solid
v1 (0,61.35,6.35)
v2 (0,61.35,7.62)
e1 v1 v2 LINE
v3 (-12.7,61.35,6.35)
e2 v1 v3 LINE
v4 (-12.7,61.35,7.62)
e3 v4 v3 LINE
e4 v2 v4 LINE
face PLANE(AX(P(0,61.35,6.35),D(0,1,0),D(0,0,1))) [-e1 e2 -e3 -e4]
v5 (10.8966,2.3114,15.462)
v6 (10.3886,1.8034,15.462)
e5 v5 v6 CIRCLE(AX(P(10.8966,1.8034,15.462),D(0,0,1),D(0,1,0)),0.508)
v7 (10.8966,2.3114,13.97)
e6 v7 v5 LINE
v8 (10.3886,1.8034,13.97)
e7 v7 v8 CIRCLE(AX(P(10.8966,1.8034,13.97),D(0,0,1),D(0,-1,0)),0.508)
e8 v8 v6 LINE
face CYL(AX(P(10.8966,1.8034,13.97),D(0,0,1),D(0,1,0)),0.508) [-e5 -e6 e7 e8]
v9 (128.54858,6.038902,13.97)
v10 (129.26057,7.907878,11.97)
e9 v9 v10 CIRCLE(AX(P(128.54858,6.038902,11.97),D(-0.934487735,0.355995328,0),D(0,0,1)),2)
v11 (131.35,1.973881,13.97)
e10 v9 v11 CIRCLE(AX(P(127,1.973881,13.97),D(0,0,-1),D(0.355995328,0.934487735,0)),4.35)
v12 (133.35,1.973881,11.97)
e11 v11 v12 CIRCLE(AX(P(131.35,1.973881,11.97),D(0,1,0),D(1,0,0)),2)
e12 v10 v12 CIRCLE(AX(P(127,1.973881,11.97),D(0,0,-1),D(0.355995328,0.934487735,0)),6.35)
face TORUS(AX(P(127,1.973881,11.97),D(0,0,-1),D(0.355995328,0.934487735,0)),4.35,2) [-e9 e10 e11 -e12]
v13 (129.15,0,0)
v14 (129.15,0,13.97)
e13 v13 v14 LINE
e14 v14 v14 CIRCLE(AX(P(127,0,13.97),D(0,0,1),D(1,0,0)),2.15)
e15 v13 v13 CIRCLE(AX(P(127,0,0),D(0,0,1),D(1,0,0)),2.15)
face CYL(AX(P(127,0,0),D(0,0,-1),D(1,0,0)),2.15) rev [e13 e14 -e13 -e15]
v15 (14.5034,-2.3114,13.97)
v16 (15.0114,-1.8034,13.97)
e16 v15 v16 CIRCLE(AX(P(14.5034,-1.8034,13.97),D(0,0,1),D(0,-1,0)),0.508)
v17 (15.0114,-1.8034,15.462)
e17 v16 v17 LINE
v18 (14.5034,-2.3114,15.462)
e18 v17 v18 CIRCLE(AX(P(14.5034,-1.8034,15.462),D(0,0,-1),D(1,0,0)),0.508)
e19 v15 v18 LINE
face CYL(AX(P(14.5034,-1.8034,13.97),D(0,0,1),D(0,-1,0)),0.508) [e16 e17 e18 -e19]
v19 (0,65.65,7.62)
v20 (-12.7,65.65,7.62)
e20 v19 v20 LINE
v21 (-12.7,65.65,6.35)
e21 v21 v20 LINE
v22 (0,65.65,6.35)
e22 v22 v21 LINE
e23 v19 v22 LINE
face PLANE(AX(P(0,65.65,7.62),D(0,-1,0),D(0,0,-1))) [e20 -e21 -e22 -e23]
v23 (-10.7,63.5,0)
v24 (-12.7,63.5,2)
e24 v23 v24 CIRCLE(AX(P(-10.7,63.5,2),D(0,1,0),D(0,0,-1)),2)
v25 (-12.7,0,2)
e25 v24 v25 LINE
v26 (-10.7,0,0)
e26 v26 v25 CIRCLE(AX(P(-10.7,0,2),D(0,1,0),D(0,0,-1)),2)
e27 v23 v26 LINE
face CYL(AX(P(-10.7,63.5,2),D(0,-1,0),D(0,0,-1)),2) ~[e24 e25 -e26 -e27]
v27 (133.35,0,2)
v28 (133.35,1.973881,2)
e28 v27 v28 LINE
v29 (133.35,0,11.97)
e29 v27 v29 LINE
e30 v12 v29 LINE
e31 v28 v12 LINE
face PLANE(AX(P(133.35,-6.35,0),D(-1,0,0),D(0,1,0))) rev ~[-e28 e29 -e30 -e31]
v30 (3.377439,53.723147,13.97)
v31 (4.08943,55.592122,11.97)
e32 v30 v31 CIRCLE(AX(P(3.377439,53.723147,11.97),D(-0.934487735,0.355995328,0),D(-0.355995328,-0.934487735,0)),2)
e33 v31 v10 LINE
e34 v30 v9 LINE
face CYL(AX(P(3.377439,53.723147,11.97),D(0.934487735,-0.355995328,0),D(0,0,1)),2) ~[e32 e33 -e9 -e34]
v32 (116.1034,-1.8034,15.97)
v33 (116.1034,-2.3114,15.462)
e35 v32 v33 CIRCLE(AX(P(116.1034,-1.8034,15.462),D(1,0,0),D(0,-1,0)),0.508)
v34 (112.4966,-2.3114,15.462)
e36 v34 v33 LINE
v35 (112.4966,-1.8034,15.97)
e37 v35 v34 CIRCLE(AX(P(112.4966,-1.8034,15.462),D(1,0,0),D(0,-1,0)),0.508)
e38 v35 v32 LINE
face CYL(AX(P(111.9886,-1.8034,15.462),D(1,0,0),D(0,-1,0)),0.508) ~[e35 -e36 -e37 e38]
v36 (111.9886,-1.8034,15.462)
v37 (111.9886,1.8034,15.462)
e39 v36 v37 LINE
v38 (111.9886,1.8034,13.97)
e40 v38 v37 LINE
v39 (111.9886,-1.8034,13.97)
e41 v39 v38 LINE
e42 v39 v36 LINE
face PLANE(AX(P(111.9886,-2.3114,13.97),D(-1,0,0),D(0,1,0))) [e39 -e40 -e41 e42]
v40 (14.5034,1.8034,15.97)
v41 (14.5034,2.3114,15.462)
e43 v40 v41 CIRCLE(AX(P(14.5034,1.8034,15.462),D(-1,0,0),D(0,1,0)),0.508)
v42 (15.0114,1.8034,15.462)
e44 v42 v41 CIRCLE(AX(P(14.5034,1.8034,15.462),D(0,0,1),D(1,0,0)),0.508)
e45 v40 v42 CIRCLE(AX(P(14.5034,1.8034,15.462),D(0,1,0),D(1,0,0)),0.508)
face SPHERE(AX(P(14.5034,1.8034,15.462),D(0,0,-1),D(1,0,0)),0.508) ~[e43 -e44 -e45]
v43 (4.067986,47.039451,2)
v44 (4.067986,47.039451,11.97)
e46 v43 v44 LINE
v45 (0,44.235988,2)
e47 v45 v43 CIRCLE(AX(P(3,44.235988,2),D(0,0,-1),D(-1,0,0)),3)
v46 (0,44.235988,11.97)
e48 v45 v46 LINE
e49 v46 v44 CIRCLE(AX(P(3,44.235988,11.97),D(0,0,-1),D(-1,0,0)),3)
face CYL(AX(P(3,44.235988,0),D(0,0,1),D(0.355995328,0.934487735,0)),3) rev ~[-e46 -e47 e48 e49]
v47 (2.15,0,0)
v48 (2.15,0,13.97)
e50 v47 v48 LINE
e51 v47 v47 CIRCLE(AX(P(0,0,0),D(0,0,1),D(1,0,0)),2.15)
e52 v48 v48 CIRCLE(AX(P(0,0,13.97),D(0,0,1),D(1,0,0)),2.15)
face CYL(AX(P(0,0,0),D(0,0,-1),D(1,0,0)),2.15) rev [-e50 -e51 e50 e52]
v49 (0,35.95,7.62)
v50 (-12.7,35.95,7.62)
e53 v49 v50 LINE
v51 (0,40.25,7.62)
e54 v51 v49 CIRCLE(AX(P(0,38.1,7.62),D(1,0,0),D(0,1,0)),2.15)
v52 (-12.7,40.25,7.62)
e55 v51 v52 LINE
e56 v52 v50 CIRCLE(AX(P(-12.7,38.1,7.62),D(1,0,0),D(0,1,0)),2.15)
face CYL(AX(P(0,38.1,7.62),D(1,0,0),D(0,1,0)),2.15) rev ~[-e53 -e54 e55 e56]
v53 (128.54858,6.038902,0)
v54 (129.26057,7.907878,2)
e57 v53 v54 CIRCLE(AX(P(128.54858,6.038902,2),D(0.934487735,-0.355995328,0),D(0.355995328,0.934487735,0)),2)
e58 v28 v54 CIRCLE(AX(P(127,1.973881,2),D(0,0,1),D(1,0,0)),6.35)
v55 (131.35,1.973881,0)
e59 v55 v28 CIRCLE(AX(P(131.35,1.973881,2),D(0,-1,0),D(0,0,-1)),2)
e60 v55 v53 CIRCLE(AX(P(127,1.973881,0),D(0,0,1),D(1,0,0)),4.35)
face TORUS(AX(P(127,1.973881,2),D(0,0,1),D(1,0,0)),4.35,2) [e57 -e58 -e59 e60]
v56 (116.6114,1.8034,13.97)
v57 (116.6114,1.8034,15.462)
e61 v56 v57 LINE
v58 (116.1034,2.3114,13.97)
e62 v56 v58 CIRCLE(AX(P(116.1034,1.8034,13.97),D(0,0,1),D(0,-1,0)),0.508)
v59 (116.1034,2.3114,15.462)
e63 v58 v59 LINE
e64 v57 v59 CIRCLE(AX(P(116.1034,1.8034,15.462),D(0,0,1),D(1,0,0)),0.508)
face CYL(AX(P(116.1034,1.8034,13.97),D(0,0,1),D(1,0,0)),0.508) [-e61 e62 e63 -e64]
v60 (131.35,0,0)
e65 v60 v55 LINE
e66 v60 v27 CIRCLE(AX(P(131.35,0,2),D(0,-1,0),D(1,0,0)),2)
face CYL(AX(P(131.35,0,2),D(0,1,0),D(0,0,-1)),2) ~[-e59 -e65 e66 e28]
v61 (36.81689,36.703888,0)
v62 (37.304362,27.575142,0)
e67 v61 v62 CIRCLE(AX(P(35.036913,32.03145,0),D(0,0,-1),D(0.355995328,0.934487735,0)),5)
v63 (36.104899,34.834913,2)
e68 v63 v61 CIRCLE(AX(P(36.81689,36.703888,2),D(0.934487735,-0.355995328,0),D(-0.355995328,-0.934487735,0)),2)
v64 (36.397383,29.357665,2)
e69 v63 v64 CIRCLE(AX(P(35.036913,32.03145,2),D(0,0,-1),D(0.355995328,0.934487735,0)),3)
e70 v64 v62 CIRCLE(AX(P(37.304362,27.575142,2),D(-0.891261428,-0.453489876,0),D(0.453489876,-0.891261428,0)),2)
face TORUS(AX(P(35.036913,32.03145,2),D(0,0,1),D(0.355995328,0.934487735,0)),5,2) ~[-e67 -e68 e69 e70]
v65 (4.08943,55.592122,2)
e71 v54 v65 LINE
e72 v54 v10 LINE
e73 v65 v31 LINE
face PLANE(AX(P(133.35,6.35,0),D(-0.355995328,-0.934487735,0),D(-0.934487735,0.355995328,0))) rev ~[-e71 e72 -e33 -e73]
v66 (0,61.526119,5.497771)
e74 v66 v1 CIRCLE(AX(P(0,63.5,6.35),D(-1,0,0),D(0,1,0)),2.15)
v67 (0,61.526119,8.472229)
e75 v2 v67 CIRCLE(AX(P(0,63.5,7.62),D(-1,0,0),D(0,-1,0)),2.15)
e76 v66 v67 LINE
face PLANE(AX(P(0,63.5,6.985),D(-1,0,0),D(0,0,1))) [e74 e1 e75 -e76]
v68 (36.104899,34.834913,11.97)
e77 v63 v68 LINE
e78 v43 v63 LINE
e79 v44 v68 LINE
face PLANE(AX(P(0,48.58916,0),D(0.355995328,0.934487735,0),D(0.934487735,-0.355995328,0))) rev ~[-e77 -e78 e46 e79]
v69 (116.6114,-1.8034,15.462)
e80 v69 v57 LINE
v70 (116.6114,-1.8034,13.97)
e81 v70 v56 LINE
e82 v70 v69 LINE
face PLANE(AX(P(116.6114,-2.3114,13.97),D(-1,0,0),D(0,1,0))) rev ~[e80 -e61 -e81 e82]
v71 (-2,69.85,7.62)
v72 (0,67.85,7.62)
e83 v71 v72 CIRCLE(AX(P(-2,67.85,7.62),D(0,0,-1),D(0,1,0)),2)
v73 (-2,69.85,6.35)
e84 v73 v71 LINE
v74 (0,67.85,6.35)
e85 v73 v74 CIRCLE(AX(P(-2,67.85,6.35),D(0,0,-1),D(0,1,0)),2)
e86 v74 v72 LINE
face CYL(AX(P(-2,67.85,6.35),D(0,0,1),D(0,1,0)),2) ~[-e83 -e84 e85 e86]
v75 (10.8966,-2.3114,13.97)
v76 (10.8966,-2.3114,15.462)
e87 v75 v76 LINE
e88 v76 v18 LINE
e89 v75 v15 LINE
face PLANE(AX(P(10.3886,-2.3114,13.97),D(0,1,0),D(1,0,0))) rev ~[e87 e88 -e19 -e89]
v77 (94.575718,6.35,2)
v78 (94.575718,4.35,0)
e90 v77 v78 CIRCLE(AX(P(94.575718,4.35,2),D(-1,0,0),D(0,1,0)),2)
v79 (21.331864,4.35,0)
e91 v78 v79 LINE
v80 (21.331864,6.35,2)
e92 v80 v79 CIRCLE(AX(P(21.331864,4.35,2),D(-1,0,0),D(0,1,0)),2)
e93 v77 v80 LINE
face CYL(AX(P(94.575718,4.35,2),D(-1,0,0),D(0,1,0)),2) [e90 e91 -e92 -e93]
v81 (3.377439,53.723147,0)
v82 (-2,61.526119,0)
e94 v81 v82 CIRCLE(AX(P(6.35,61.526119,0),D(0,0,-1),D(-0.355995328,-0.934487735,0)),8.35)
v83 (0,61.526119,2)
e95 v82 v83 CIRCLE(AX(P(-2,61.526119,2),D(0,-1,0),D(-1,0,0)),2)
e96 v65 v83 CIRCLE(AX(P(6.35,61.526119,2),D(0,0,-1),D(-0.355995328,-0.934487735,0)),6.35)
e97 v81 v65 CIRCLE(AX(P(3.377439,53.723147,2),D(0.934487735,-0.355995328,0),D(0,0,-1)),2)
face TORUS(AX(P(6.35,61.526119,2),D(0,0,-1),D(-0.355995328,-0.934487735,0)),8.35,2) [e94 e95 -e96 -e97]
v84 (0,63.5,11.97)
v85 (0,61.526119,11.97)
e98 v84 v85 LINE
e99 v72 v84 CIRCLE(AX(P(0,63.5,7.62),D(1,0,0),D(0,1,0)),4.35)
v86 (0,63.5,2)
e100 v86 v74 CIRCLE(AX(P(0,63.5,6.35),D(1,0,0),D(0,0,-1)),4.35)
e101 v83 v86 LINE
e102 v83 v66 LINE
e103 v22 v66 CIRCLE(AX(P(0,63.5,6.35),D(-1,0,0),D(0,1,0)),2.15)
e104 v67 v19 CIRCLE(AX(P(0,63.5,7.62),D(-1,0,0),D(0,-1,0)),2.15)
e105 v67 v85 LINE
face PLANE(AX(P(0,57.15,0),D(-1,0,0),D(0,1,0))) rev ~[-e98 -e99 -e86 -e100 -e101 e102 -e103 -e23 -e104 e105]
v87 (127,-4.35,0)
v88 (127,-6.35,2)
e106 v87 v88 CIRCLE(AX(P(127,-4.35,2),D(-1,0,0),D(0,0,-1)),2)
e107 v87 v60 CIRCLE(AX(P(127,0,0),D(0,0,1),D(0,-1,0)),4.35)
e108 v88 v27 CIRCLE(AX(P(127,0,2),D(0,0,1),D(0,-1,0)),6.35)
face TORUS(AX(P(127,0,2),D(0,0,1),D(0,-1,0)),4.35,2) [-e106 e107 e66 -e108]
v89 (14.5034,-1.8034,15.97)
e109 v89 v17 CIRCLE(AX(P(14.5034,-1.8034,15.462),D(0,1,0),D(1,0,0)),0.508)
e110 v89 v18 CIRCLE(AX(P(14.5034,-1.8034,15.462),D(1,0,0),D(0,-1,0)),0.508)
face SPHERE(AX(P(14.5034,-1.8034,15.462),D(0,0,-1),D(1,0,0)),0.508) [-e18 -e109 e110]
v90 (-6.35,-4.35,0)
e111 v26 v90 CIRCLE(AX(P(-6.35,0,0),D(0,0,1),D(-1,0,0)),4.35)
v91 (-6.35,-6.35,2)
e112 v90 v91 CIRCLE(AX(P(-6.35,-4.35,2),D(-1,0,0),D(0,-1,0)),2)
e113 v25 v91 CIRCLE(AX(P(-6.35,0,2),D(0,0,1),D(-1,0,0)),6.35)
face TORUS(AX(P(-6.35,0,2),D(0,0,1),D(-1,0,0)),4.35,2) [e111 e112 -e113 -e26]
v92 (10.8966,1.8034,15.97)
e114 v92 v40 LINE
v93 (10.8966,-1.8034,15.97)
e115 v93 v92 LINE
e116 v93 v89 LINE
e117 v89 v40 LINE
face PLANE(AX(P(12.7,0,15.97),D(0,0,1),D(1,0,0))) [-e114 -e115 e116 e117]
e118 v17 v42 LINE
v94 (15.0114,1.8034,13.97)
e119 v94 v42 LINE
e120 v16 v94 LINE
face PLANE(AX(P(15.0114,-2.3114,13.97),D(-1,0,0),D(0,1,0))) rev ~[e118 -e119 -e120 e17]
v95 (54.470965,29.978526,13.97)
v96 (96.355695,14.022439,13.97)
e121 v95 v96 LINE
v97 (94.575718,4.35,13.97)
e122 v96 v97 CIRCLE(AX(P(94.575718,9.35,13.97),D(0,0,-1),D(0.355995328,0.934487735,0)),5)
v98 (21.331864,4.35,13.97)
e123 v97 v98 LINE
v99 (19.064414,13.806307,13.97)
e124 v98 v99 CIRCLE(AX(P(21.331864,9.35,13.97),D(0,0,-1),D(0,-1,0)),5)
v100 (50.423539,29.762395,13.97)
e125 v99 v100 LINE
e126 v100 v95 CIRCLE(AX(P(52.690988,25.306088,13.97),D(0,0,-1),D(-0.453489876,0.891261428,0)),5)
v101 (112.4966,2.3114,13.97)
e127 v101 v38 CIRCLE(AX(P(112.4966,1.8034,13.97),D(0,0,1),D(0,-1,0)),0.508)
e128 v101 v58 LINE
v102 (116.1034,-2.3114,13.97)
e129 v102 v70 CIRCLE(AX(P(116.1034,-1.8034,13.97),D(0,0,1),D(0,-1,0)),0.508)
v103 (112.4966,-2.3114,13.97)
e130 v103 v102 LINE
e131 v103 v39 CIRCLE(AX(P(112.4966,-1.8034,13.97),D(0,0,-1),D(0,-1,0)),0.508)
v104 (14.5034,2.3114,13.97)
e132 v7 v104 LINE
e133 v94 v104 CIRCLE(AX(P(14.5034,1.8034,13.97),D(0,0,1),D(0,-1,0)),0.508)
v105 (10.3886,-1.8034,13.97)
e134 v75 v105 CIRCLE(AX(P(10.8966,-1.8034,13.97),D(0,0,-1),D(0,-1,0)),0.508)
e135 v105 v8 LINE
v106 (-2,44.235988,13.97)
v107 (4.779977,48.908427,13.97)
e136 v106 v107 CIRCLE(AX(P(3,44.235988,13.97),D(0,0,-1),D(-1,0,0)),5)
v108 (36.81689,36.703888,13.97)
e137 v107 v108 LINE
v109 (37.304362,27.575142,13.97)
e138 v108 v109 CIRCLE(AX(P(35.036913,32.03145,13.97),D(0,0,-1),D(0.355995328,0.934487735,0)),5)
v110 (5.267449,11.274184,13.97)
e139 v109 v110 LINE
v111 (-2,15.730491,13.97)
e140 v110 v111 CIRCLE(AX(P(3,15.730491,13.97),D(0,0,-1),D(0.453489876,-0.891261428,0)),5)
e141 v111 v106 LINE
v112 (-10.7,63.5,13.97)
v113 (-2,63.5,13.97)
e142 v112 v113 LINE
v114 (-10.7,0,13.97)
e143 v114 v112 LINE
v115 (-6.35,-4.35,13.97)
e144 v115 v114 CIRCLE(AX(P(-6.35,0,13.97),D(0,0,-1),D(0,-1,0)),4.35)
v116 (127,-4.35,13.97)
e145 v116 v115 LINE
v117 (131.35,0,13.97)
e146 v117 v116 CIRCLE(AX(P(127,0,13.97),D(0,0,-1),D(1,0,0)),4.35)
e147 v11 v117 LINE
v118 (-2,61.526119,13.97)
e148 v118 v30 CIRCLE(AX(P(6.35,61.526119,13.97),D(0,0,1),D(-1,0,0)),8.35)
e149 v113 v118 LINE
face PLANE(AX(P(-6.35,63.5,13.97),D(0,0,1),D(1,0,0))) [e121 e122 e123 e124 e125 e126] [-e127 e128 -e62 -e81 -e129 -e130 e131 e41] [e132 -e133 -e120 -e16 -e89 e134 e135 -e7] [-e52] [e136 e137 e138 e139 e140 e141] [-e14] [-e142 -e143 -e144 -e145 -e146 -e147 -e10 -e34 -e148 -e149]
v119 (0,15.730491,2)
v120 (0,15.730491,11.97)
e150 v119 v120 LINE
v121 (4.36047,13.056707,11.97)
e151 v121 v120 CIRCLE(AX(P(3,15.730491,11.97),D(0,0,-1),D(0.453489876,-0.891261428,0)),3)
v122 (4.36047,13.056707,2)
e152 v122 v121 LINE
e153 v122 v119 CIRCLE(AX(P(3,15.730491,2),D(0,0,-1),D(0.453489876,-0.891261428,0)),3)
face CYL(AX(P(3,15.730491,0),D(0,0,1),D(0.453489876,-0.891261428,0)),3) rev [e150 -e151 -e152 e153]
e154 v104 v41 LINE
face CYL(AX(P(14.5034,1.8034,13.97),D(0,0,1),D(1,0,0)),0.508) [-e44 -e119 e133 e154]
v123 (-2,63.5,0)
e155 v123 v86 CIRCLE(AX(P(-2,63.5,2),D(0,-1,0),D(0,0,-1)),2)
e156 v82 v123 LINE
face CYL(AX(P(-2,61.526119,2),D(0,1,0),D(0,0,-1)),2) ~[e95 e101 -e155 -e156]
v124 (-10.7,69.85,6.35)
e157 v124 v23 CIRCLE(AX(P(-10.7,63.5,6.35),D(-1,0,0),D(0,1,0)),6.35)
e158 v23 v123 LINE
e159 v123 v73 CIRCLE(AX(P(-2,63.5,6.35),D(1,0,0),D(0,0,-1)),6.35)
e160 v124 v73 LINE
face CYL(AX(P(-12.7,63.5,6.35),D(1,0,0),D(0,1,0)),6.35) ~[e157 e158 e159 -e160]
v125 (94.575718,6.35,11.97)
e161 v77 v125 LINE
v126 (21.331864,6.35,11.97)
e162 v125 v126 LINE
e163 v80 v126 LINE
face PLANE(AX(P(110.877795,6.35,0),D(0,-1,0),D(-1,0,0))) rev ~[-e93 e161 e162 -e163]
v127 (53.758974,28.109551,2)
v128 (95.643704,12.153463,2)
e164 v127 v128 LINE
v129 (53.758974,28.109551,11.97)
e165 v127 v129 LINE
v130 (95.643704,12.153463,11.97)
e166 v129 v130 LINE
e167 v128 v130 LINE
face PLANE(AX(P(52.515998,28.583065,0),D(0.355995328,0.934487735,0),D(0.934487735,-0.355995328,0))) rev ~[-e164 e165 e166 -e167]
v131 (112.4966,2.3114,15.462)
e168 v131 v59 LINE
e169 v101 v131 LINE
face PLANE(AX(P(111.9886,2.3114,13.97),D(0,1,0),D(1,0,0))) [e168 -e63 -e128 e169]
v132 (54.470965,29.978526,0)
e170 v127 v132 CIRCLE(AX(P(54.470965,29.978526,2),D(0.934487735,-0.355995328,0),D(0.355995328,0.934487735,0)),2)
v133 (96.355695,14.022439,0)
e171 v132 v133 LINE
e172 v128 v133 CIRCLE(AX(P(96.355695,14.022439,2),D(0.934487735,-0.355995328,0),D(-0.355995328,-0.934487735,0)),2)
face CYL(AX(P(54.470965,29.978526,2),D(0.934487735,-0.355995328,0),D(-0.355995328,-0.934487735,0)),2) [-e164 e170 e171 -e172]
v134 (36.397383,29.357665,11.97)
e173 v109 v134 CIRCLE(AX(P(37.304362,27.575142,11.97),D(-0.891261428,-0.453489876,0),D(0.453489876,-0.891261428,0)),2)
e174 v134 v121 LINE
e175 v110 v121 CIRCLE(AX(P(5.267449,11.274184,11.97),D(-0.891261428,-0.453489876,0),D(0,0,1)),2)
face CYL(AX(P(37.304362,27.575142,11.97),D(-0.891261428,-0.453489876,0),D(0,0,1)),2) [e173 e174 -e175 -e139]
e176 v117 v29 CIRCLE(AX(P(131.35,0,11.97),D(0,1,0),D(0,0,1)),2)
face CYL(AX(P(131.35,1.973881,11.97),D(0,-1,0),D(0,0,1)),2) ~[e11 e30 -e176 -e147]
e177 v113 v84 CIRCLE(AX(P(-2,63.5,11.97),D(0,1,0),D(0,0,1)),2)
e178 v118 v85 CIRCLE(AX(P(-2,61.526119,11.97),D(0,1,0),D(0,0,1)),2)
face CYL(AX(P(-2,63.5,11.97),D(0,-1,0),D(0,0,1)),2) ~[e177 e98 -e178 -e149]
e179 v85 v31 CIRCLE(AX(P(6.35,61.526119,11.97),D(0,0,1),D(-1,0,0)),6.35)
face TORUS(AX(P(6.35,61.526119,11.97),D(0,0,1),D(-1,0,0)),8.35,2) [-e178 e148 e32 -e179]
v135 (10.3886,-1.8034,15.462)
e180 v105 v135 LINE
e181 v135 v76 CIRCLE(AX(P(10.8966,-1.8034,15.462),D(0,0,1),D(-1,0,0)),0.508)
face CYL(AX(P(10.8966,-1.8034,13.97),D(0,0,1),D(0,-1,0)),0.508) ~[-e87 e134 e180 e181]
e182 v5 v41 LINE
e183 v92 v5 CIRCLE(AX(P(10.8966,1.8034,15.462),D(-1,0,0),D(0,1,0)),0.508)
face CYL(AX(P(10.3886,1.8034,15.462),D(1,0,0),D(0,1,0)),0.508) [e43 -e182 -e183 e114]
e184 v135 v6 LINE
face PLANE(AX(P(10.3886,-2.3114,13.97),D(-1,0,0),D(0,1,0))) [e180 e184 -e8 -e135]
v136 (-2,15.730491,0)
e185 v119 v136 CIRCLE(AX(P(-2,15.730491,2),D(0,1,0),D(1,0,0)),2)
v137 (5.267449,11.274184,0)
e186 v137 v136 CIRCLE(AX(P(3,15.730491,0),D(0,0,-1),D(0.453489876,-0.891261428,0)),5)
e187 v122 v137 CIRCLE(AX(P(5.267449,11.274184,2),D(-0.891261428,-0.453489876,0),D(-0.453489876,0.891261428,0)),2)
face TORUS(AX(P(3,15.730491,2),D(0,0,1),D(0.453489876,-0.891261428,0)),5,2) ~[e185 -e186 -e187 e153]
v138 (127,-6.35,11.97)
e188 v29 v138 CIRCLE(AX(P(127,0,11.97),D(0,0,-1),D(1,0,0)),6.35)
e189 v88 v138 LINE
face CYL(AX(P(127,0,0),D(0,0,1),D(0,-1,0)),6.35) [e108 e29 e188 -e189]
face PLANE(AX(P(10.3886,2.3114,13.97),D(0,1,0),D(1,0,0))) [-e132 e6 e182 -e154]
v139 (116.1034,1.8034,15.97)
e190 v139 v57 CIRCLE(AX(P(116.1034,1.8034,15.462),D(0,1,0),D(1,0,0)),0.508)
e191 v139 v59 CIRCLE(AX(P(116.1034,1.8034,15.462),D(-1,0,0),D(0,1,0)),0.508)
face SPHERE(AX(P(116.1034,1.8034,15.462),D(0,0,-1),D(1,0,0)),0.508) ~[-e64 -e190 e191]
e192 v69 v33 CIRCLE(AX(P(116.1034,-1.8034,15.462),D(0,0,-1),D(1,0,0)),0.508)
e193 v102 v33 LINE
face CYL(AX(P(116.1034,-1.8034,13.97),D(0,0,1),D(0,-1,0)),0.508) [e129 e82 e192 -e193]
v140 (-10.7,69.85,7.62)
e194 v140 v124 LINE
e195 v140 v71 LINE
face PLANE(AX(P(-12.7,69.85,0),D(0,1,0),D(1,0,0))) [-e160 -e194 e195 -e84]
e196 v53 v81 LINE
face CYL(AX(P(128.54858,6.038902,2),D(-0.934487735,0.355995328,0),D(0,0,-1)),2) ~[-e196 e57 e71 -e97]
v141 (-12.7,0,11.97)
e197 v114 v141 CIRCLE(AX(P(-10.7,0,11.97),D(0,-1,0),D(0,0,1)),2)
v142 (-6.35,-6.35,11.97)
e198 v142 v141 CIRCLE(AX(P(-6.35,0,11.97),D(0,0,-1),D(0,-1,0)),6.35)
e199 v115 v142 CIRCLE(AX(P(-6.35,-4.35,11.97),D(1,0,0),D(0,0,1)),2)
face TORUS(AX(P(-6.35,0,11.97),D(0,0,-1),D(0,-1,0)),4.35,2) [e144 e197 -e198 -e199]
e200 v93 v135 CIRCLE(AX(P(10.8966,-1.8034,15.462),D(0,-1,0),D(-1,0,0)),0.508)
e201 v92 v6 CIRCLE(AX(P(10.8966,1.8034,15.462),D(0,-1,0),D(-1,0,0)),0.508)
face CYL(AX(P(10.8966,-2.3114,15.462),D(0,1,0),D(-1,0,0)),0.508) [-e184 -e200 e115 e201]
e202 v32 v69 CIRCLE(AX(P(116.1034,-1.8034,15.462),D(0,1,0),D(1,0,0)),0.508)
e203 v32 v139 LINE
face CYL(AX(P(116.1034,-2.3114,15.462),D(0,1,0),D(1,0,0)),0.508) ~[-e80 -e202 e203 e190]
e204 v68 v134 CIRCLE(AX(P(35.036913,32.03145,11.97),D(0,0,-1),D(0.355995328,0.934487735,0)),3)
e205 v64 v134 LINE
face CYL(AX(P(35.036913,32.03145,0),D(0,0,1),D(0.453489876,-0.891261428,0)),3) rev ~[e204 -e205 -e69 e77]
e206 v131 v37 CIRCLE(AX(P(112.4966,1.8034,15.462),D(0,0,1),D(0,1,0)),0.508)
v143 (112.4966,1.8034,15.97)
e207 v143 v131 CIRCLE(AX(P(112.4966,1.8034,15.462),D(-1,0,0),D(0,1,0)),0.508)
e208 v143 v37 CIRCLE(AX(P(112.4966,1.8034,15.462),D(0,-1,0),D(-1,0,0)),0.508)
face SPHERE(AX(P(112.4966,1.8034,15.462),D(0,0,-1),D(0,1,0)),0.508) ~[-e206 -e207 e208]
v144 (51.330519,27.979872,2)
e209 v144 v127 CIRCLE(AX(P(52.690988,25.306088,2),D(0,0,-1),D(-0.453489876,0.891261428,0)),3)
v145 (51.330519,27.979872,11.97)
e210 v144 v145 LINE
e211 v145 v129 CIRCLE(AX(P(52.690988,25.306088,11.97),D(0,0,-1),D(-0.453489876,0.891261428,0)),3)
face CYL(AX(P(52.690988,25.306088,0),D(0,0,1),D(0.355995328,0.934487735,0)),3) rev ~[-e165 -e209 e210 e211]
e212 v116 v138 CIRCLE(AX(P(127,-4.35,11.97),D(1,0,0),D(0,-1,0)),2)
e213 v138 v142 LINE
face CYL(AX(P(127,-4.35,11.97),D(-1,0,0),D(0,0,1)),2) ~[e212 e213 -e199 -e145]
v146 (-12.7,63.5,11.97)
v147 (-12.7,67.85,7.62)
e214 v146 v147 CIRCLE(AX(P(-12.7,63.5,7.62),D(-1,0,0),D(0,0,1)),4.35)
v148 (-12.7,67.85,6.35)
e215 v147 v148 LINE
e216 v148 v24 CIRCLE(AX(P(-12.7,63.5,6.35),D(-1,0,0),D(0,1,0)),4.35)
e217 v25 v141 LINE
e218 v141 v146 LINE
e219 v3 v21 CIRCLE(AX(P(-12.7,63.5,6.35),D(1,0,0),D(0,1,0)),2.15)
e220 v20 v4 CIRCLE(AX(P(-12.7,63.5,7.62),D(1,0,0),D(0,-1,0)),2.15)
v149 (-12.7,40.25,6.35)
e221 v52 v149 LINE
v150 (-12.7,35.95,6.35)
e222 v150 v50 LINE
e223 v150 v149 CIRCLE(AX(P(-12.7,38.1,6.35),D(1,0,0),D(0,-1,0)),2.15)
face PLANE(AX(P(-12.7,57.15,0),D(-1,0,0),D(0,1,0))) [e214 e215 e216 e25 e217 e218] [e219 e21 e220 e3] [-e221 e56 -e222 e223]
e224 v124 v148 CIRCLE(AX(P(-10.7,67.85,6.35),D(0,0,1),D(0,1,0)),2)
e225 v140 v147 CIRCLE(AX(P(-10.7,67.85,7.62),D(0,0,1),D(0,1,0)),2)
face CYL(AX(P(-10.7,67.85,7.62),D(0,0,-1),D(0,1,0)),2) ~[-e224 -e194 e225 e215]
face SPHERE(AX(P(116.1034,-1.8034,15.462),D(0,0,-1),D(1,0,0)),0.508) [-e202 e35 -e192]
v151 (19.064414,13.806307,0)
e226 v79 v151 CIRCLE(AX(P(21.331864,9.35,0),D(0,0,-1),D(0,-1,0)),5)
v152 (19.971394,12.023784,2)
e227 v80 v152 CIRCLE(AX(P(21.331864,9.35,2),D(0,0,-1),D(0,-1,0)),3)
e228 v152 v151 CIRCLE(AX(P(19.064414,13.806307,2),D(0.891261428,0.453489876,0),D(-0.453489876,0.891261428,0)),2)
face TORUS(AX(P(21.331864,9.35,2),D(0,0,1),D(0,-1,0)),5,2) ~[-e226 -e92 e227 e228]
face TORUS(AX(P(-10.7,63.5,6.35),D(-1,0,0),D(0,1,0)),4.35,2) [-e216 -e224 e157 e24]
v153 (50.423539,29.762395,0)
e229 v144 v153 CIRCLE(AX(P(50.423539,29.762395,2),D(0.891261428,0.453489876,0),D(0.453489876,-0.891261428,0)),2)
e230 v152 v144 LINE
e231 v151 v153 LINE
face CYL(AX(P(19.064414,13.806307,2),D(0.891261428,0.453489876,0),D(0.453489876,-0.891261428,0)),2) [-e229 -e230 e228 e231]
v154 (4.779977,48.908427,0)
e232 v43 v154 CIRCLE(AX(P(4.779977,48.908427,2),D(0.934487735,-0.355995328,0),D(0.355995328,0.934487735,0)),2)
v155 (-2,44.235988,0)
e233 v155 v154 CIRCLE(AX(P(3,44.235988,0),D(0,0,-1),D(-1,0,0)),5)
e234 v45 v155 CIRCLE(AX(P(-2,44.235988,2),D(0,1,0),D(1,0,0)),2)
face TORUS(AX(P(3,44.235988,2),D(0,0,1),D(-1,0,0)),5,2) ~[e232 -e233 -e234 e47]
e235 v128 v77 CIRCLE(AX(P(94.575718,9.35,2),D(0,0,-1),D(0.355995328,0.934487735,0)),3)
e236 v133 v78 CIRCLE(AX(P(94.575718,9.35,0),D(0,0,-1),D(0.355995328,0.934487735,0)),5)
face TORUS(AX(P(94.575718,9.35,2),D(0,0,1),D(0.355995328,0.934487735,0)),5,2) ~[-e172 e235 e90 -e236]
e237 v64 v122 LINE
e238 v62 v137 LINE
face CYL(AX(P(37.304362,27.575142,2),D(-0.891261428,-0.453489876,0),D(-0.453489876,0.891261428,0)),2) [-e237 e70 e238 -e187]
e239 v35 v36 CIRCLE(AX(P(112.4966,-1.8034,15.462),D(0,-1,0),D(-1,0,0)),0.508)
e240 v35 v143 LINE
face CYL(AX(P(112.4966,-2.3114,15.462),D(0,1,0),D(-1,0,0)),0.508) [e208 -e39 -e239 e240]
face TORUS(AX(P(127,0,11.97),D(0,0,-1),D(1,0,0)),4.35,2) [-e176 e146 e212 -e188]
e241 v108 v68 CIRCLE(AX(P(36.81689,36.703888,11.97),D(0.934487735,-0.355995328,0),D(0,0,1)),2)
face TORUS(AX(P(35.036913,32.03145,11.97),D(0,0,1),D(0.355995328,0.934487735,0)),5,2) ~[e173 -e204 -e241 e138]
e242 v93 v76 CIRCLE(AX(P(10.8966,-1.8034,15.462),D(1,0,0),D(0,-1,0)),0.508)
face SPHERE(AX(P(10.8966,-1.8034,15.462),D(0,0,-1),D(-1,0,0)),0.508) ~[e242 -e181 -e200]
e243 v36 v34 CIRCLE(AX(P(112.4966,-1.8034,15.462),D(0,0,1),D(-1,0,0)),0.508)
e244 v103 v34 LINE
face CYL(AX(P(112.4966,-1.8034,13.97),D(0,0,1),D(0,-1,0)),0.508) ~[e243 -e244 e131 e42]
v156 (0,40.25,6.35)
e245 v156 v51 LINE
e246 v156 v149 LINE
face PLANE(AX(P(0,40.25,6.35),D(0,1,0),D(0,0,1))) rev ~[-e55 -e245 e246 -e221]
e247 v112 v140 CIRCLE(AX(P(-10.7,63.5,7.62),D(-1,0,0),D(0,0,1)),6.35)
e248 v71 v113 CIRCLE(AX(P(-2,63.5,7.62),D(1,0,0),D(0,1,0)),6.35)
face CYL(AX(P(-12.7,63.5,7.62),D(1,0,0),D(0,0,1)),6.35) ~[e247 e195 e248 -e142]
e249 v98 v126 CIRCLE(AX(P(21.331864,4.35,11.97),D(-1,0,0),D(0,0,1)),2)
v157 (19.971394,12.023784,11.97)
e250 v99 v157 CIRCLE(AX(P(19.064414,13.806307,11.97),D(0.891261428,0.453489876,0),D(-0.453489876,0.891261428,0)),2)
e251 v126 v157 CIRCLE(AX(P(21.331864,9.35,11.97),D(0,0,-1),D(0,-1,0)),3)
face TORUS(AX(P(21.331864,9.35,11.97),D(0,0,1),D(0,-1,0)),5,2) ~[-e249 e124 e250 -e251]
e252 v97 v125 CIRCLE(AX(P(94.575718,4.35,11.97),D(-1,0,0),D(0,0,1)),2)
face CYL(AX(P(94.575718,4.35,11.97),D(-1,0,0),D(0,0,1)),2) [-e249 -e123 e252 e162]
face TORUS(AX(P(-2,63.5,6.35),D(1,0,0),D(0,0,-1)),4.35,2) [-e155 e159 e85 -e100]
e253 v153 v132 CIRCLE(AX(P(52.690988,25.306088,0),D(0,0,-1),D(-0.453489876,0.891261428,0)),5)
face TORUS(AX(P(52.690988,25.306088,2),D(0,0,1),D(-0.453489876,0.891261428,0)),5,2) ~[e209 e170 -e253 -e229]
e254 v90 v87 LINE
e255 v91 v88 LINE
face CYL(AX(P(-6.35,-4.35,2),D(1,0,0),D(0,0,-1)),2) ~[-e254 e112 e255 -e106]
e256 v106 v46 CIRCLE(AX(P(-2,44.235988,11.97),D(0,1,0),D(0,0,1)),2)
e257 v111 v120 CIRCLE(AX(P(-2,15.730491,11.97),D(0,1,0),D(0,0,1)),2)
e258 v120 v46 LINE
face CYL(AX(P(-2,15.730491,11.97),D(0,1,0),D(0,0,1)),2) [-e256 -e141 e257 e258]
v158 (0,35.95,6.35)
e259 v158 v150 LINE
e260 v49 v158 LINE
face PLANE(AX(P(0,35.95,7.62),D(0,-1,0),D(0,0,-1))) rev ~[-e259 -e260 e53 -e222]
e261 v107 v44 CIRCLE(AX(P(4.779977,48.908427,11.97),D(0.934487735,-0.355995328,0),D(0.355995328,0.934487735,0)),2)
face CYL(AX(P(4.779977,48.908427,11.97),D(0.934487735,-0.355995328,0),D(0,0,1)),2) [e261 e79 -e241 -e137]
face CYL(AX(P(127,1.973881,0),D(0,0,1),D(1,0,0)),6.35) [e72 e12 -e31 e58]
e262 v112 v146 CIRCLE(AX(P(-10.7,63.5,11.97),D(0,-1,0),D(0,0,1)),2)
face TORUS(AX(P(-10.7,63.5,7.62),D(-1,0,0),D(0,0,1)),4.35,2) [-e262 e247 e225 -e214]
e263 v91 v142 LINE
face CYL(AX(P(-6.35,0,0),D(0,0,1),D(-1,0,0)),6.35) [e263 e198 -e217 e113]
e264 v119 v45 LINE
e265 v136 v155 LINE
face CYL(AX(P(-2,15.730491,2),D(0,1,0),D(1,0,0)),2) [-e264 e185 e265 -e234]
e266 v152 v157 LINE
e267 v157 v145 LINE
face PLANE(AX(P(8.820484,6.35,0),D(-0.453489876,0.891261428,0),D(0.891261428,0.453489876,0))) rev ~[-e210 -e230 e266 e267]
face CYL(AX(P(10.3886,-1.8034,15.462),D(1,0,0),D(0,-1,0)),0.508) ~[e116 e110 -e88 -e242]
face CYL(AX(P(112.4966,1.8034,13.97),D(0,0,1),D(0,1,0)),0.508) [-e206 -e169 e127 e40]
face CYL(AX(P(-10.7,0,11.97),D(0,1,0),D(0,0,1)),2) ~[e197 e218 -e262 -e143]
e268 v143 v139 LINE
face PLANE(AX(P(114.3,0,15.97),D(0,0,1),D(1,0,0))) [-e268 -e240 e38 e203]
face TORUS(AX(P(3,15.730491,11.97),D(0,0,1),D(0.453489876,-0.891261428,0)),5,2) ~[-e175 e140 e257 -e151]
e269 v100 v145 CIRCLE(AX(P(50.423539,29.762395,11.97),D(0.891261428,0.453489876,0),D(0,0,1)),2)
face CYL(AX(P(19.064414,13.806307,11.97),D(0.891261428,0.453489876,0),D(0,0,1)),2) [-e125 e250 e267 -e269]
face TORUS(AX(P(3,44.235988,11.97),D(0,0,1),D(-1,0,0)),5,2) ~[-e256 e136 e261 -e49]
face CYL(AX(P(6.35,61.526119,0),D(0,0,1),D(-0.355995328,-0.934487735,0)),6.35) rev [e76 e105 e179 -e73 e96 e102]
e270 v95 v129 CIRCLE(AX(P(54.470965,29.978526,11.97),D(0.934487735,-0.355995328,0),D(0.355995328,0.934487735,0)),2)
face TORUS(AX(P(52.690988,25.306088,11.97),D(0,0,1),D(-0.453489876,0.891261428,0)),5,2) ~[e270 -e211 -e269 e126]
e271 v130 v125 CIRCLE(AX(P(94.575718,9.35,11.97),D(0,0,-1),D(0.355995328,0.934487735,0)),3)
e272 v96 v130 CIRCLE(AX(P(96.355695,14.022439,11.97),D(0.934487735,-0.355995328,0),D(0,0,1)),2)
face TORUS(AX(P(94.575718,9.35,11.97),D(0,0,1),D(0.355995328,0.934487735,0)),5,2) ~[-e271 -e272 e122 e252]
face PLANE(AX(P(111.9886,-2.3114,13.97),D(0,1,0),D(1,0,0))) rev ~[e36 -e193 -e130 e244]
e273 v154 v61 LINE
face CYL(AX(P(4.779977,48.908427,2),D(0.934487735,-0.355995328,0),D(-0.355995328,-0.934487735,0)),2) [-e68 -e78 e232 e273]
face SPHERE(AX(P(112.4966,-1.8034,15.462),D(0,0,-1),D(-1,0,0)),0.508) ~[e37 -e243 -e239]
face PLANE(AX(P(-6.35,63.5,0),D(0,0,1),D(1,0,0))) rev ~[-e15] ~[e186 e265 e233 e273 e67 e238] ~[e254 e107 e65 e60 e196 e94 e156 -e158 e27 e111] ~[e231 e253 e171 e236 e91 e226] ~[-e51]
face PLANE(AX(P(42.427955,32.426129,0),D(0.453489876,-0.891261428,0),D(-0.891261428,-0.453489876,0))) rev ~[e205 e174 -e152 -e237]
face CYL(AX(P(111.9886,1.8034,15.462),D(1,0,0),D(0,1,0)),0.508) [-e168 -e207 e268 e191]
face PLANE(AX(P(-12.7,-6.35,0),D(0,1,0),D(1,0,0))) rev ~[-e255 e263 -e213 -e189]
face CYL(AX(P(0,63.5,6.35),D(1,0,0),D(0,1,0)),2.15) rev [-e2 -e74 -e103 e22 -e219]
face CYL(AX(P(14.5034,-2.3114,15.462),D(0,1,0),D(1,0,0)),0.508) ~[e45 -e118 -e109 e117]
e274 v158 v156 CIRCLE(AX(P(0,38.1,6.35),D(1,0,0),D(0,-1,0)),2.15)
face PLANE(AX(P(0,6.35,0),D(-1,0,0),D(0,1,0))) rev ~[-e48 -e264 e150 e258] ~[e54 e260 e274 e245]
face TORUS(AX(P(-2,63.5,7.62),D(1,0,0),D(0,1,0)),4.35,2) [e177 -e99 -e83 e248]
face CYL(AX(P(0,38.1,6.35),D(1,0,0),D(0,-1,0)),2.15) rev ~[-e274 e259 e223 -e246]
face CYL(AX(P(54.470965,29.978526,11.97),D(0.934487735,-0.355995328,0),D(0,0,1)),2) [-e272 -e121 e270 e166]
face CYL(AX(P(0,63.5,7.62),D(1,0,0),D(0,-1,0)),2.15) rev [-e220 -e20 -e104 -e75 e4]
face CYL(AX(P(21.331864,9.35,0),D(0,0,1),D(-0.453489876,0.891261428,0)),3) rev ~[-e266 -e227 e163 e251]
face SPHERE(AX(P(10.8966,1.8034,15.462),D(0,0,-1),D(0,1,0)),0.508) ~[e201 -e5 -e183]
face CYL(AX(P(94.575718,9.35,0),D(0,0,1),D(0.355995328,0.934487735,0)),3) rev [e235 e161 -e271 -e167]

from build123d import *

# Parameters (mm, degrees)
SKETCH1_R           = 2.15
SKETCH1_W           = 12.7
SKETCH1_H           = 12.7
BOSS_EXTRUDE1_DEPTH = 13.97
FILLET1_R           = 3
FILLET2_R           = 6.35
CUT_EXTRUDE1_DEPTH  = 152.183351927
FILLET3_R           = 2
SKETCH3_W           = 4.6228
SKETCH3_H           = 4.6228
BOSS_EXTRUDE2_DEPTH = 2
FILLET4_R           = 0.508


with BuildPart() as part:
    # Sketch1 → Boss-Extrude1 (new body)
    # profile 1 of 5: a face of its own
    with BuildSketch(Plane.XY):
        Polygon((0, 57.15), (-12.7, 57.15), (-12.7, -6.35), (133.35, -6.35), (133.35, 6.35), align=None)
        Circle(SKETCH1_R, mode=Mode.SUBTRACT)
        Polygon((0, 10.838020995), (0, 48.589159979), (42.42795548, 32.42612932), (47.471976934, 30.504597338), (52.515998389, 28.583065355), (110.877794946, 6.35), (8.820483578, 6.35), (0, 6.35), align=None, mode=Mode.SUBTRACT)
        with Locations((127, 0)):
            Circle(SKETCH1_R, mode=Mode.SUBTRACT)
    # profile 2 of 5: a face of its own
    with BuildSketch(Plane.XY):
        Polygon((133.35, 6.35), (0, 57.15), (-12.7, 57.15), (-12.7, -6.35), (133.35, -6.35), align=None)
        with Locations((127, 0)):
            Circle(SKETCH1_R, mode=Mode.SUBTRACT)
        Circle(SKETCH1_R, mode=Mode.SUBTRACT)
        Polygon((110.877794946, 6.35), (0, 48.589159979), (0, 6.35), align=None, mode=Mode.SUBTRACT)
    # profile 3 of 5: a face of its own
    with BuildSketch(Plane.XY):
        Polygon((42.42795548, 32.42612932), (0, 10.838020995), (0, 6.35), (47.471976934, 30.504597338), align=None)
    # profile 4 of 5: a face of its own
    with BuildSketch(Plane.XY):
        Polygon((47.471976934, 30.504597338), (0, 6.35), (8.820483578, 6.35), (52.515998389, 28.583065355), align=None)
    # profile 5 of 5: a face of its own
    with BuildSketch(Plane.XY):
        with Locations((-6.35, 63.5)):
            Rectangle(SKETCH1_W, SKETCH1_H)
    extrude(amount=BOSS_EXTRUDE1_DEPTH)

    # Fillet1
    fillet1_edges = [part.edges().sort_by_distance(p)[0] for p in [
        (52.515998389, 28.583065355, 6.985),
        (8.820483578, 6.35, 6.985),
        (110.877794946, 6.35, 6.985),
        (0, 48.589159979, 6.985),
        (0, 10.838020995, 6.985),
        (42.42795548, 32.42612932, 6.985),
    ]]
    fillet(fillet1_edges, radius=FILLET1_R)

    # Fillet2
    fillet2_edges = [part.edges().sort_by_distance(p)[0] for p in [
        (-6.35, 69.85, 0),
        (133.35, 6.35, 6.985),
        (133.35, -6.35, 6.985),
        (-12.7, -6.35, 6.985),
        (0, 57.15, 6.985),
        (-6.35, 69.85, 13.97),
    ]]
    fillet(fillet2_edges, radius=FILLET2_R)

    # Sketch2 → Cut-Extrude1 (cut, through all)
    with BuildSketch(Plane(origin=(0, 0, 0), x_dir=(0, 0, -1), z_dir=(1, 0, 0))):
        with BuildLine():
            Line((-7.62, 65.65), (-6.35, 65.65))
            ThreePointArc((-6.35, 65.65), (-4.2, 63.5), (-6.35, 61.35))
            Line((-6.35, 61.35), (-7.62, 61.35))
            ThreePointArc((-7.62, 61.35), (-9.77, 63.5), (-7.62, 65.65))
        make_face()
        with BuildLine():
            Line((-7.62, 35.95), (-6.35, 35.95))
            ThreePointArc((-6.35, 35.95), (-4.2, 38.1), (-6.35, 40.25))
            Line((-6.35, 40.25), (-7.62, 40.25))
            ThreePointArc((-7.62, 40.25), (-9.77, 38.1), (-7.62, 35.95))
        make_face()
    extrude(amount=-CUT_EXTRUDE1_DEPTH, mode=Mode.SUBTRACT)

    # Fillet3
    fillet3_edges = [part.edges().sort_by_distance(p)[0] for p in [
        (-12.7, 31.75, 13.97),
        (-12.7, 67.990128061, 12.110128061),
        (-12.7, 67.990128061, 1.859871939),
        (66.675, 31.75, 13.97),
        (60.325, -6.35, 13.97),
        (133.35, 0.986940426, 13.97),
        (132.22862896, 5.577204208, 13.97),
        (-10.840128061, -4.490128061, 13.97),
        (131.490128061, -4.490128061, 13.97),
        (1.12137104, 57.922795792, 0),
        (1.12137104, 57.922795792, 13.97),
        (57.953790951, 6.35, 0),
        (57.953790951, 6.35, 13.97),
        (74.701339099, 20.131506989, 0),
        (74.701339099, 20.131506989, 13.97),
        (35.65095639, 20.001828068, 0),
        (35.65095639, 20.001828068, 13.97),
        (0, 29.983239316, 0),
        (0, 29.983239316, 13.97),
        (20.378926173, 21.207185872, 0),
        (20.378926173, 21.207185872, 13.97),
        (20.086442529, 40.937181873, 0),
        (20.086442529, 40.937181873, 13.97),
        (97.526174762, 8.80704034, 0),
        (97.526174762, 8.80704034, 13.97),
        (52.531016852, 28.301819395, 0),
        (52.531016852, 28.301819395, 13.97),
        (18.414557487, 8.650483328, 0),
        (18.414557487, 8.650483328, 13.97),
        (1.431785869, 13.173010707, 0),
        (1.431785869, 13.173010707, 13.97),
        (38.032644918, 32.191420837, 0),
        (38.032644918, 32.191420837, 13.97),
        (1.297642509, 46.706206235, 0),
        (1.297642509, 46.706206235, 13.97),
        (66.675, 31.75, 0),
        (133.35, 0.986940426, 0),
        (60.325, -6.35, 0),
        (-12.7, 31.75, 0),
        (0, 62.513059574, 0),
        (132.22862896, 5.577204208, 0),
        (-10.840128061, -4.490128061, 0),
        (131.490128061, -4.490128061, 0),
        (0, 69.85, 6.985),
        (0, 62.513059574, 13.97),
        (0, 67.990128061, 12.110128061),
        (0, 67.990128061, 1.859871939),
        (-12.7, 69.85, 6.985),
    ]]
    fillet(fillet3_edges, radius=FILLET3_R)

    # Sketch3 → Boss-Extrude2 (add)
    with BuildSketch(Plane.XY.offset(13.97)):
        with Locations((12.7, 0)):
            Rectangle(SKETCH3_W, SKETCH3_H)
        with Locations((114.3, 0)):
            Rectangle(SKETCH3_W, SKETCH3_H)
    extrude(amount=BOSS_EXTRUDE2_DEPTH)

    # Fillet4
    fillet4_edges = [part.edges().sort_by_distance(p)[0] for p in [
        (15.0114, -2.3114, 14.97),
        (15.0114, 2.3114, 14.97),
        (10.3886, 2.3114, 14.97),
        (10.3886, -2.3114, 14.97),
        (15.0114, 0, 15.97),
        (12.7, 2.3114, 15.97),
        (10.3886, 0, 15.97),
        (12.7, -2.3114, 15.97),
        (116.6114, -2.3114, 14.97),
        (116.6114, 2.3114, 14.97),
        (111.9886, 2.3114, 14.97),
        (111.9886, -2.3114, 14.97),
        (116.6114, 0, 15.97),
        (114.3, 2.3114, 15.97),
        (111.9886, 0, 15.97),
        (114.3, -2.3114, 15.97),
    ]]
    fillet(fillet4_edges, radius=FILLET4_R)


solid = part.part
